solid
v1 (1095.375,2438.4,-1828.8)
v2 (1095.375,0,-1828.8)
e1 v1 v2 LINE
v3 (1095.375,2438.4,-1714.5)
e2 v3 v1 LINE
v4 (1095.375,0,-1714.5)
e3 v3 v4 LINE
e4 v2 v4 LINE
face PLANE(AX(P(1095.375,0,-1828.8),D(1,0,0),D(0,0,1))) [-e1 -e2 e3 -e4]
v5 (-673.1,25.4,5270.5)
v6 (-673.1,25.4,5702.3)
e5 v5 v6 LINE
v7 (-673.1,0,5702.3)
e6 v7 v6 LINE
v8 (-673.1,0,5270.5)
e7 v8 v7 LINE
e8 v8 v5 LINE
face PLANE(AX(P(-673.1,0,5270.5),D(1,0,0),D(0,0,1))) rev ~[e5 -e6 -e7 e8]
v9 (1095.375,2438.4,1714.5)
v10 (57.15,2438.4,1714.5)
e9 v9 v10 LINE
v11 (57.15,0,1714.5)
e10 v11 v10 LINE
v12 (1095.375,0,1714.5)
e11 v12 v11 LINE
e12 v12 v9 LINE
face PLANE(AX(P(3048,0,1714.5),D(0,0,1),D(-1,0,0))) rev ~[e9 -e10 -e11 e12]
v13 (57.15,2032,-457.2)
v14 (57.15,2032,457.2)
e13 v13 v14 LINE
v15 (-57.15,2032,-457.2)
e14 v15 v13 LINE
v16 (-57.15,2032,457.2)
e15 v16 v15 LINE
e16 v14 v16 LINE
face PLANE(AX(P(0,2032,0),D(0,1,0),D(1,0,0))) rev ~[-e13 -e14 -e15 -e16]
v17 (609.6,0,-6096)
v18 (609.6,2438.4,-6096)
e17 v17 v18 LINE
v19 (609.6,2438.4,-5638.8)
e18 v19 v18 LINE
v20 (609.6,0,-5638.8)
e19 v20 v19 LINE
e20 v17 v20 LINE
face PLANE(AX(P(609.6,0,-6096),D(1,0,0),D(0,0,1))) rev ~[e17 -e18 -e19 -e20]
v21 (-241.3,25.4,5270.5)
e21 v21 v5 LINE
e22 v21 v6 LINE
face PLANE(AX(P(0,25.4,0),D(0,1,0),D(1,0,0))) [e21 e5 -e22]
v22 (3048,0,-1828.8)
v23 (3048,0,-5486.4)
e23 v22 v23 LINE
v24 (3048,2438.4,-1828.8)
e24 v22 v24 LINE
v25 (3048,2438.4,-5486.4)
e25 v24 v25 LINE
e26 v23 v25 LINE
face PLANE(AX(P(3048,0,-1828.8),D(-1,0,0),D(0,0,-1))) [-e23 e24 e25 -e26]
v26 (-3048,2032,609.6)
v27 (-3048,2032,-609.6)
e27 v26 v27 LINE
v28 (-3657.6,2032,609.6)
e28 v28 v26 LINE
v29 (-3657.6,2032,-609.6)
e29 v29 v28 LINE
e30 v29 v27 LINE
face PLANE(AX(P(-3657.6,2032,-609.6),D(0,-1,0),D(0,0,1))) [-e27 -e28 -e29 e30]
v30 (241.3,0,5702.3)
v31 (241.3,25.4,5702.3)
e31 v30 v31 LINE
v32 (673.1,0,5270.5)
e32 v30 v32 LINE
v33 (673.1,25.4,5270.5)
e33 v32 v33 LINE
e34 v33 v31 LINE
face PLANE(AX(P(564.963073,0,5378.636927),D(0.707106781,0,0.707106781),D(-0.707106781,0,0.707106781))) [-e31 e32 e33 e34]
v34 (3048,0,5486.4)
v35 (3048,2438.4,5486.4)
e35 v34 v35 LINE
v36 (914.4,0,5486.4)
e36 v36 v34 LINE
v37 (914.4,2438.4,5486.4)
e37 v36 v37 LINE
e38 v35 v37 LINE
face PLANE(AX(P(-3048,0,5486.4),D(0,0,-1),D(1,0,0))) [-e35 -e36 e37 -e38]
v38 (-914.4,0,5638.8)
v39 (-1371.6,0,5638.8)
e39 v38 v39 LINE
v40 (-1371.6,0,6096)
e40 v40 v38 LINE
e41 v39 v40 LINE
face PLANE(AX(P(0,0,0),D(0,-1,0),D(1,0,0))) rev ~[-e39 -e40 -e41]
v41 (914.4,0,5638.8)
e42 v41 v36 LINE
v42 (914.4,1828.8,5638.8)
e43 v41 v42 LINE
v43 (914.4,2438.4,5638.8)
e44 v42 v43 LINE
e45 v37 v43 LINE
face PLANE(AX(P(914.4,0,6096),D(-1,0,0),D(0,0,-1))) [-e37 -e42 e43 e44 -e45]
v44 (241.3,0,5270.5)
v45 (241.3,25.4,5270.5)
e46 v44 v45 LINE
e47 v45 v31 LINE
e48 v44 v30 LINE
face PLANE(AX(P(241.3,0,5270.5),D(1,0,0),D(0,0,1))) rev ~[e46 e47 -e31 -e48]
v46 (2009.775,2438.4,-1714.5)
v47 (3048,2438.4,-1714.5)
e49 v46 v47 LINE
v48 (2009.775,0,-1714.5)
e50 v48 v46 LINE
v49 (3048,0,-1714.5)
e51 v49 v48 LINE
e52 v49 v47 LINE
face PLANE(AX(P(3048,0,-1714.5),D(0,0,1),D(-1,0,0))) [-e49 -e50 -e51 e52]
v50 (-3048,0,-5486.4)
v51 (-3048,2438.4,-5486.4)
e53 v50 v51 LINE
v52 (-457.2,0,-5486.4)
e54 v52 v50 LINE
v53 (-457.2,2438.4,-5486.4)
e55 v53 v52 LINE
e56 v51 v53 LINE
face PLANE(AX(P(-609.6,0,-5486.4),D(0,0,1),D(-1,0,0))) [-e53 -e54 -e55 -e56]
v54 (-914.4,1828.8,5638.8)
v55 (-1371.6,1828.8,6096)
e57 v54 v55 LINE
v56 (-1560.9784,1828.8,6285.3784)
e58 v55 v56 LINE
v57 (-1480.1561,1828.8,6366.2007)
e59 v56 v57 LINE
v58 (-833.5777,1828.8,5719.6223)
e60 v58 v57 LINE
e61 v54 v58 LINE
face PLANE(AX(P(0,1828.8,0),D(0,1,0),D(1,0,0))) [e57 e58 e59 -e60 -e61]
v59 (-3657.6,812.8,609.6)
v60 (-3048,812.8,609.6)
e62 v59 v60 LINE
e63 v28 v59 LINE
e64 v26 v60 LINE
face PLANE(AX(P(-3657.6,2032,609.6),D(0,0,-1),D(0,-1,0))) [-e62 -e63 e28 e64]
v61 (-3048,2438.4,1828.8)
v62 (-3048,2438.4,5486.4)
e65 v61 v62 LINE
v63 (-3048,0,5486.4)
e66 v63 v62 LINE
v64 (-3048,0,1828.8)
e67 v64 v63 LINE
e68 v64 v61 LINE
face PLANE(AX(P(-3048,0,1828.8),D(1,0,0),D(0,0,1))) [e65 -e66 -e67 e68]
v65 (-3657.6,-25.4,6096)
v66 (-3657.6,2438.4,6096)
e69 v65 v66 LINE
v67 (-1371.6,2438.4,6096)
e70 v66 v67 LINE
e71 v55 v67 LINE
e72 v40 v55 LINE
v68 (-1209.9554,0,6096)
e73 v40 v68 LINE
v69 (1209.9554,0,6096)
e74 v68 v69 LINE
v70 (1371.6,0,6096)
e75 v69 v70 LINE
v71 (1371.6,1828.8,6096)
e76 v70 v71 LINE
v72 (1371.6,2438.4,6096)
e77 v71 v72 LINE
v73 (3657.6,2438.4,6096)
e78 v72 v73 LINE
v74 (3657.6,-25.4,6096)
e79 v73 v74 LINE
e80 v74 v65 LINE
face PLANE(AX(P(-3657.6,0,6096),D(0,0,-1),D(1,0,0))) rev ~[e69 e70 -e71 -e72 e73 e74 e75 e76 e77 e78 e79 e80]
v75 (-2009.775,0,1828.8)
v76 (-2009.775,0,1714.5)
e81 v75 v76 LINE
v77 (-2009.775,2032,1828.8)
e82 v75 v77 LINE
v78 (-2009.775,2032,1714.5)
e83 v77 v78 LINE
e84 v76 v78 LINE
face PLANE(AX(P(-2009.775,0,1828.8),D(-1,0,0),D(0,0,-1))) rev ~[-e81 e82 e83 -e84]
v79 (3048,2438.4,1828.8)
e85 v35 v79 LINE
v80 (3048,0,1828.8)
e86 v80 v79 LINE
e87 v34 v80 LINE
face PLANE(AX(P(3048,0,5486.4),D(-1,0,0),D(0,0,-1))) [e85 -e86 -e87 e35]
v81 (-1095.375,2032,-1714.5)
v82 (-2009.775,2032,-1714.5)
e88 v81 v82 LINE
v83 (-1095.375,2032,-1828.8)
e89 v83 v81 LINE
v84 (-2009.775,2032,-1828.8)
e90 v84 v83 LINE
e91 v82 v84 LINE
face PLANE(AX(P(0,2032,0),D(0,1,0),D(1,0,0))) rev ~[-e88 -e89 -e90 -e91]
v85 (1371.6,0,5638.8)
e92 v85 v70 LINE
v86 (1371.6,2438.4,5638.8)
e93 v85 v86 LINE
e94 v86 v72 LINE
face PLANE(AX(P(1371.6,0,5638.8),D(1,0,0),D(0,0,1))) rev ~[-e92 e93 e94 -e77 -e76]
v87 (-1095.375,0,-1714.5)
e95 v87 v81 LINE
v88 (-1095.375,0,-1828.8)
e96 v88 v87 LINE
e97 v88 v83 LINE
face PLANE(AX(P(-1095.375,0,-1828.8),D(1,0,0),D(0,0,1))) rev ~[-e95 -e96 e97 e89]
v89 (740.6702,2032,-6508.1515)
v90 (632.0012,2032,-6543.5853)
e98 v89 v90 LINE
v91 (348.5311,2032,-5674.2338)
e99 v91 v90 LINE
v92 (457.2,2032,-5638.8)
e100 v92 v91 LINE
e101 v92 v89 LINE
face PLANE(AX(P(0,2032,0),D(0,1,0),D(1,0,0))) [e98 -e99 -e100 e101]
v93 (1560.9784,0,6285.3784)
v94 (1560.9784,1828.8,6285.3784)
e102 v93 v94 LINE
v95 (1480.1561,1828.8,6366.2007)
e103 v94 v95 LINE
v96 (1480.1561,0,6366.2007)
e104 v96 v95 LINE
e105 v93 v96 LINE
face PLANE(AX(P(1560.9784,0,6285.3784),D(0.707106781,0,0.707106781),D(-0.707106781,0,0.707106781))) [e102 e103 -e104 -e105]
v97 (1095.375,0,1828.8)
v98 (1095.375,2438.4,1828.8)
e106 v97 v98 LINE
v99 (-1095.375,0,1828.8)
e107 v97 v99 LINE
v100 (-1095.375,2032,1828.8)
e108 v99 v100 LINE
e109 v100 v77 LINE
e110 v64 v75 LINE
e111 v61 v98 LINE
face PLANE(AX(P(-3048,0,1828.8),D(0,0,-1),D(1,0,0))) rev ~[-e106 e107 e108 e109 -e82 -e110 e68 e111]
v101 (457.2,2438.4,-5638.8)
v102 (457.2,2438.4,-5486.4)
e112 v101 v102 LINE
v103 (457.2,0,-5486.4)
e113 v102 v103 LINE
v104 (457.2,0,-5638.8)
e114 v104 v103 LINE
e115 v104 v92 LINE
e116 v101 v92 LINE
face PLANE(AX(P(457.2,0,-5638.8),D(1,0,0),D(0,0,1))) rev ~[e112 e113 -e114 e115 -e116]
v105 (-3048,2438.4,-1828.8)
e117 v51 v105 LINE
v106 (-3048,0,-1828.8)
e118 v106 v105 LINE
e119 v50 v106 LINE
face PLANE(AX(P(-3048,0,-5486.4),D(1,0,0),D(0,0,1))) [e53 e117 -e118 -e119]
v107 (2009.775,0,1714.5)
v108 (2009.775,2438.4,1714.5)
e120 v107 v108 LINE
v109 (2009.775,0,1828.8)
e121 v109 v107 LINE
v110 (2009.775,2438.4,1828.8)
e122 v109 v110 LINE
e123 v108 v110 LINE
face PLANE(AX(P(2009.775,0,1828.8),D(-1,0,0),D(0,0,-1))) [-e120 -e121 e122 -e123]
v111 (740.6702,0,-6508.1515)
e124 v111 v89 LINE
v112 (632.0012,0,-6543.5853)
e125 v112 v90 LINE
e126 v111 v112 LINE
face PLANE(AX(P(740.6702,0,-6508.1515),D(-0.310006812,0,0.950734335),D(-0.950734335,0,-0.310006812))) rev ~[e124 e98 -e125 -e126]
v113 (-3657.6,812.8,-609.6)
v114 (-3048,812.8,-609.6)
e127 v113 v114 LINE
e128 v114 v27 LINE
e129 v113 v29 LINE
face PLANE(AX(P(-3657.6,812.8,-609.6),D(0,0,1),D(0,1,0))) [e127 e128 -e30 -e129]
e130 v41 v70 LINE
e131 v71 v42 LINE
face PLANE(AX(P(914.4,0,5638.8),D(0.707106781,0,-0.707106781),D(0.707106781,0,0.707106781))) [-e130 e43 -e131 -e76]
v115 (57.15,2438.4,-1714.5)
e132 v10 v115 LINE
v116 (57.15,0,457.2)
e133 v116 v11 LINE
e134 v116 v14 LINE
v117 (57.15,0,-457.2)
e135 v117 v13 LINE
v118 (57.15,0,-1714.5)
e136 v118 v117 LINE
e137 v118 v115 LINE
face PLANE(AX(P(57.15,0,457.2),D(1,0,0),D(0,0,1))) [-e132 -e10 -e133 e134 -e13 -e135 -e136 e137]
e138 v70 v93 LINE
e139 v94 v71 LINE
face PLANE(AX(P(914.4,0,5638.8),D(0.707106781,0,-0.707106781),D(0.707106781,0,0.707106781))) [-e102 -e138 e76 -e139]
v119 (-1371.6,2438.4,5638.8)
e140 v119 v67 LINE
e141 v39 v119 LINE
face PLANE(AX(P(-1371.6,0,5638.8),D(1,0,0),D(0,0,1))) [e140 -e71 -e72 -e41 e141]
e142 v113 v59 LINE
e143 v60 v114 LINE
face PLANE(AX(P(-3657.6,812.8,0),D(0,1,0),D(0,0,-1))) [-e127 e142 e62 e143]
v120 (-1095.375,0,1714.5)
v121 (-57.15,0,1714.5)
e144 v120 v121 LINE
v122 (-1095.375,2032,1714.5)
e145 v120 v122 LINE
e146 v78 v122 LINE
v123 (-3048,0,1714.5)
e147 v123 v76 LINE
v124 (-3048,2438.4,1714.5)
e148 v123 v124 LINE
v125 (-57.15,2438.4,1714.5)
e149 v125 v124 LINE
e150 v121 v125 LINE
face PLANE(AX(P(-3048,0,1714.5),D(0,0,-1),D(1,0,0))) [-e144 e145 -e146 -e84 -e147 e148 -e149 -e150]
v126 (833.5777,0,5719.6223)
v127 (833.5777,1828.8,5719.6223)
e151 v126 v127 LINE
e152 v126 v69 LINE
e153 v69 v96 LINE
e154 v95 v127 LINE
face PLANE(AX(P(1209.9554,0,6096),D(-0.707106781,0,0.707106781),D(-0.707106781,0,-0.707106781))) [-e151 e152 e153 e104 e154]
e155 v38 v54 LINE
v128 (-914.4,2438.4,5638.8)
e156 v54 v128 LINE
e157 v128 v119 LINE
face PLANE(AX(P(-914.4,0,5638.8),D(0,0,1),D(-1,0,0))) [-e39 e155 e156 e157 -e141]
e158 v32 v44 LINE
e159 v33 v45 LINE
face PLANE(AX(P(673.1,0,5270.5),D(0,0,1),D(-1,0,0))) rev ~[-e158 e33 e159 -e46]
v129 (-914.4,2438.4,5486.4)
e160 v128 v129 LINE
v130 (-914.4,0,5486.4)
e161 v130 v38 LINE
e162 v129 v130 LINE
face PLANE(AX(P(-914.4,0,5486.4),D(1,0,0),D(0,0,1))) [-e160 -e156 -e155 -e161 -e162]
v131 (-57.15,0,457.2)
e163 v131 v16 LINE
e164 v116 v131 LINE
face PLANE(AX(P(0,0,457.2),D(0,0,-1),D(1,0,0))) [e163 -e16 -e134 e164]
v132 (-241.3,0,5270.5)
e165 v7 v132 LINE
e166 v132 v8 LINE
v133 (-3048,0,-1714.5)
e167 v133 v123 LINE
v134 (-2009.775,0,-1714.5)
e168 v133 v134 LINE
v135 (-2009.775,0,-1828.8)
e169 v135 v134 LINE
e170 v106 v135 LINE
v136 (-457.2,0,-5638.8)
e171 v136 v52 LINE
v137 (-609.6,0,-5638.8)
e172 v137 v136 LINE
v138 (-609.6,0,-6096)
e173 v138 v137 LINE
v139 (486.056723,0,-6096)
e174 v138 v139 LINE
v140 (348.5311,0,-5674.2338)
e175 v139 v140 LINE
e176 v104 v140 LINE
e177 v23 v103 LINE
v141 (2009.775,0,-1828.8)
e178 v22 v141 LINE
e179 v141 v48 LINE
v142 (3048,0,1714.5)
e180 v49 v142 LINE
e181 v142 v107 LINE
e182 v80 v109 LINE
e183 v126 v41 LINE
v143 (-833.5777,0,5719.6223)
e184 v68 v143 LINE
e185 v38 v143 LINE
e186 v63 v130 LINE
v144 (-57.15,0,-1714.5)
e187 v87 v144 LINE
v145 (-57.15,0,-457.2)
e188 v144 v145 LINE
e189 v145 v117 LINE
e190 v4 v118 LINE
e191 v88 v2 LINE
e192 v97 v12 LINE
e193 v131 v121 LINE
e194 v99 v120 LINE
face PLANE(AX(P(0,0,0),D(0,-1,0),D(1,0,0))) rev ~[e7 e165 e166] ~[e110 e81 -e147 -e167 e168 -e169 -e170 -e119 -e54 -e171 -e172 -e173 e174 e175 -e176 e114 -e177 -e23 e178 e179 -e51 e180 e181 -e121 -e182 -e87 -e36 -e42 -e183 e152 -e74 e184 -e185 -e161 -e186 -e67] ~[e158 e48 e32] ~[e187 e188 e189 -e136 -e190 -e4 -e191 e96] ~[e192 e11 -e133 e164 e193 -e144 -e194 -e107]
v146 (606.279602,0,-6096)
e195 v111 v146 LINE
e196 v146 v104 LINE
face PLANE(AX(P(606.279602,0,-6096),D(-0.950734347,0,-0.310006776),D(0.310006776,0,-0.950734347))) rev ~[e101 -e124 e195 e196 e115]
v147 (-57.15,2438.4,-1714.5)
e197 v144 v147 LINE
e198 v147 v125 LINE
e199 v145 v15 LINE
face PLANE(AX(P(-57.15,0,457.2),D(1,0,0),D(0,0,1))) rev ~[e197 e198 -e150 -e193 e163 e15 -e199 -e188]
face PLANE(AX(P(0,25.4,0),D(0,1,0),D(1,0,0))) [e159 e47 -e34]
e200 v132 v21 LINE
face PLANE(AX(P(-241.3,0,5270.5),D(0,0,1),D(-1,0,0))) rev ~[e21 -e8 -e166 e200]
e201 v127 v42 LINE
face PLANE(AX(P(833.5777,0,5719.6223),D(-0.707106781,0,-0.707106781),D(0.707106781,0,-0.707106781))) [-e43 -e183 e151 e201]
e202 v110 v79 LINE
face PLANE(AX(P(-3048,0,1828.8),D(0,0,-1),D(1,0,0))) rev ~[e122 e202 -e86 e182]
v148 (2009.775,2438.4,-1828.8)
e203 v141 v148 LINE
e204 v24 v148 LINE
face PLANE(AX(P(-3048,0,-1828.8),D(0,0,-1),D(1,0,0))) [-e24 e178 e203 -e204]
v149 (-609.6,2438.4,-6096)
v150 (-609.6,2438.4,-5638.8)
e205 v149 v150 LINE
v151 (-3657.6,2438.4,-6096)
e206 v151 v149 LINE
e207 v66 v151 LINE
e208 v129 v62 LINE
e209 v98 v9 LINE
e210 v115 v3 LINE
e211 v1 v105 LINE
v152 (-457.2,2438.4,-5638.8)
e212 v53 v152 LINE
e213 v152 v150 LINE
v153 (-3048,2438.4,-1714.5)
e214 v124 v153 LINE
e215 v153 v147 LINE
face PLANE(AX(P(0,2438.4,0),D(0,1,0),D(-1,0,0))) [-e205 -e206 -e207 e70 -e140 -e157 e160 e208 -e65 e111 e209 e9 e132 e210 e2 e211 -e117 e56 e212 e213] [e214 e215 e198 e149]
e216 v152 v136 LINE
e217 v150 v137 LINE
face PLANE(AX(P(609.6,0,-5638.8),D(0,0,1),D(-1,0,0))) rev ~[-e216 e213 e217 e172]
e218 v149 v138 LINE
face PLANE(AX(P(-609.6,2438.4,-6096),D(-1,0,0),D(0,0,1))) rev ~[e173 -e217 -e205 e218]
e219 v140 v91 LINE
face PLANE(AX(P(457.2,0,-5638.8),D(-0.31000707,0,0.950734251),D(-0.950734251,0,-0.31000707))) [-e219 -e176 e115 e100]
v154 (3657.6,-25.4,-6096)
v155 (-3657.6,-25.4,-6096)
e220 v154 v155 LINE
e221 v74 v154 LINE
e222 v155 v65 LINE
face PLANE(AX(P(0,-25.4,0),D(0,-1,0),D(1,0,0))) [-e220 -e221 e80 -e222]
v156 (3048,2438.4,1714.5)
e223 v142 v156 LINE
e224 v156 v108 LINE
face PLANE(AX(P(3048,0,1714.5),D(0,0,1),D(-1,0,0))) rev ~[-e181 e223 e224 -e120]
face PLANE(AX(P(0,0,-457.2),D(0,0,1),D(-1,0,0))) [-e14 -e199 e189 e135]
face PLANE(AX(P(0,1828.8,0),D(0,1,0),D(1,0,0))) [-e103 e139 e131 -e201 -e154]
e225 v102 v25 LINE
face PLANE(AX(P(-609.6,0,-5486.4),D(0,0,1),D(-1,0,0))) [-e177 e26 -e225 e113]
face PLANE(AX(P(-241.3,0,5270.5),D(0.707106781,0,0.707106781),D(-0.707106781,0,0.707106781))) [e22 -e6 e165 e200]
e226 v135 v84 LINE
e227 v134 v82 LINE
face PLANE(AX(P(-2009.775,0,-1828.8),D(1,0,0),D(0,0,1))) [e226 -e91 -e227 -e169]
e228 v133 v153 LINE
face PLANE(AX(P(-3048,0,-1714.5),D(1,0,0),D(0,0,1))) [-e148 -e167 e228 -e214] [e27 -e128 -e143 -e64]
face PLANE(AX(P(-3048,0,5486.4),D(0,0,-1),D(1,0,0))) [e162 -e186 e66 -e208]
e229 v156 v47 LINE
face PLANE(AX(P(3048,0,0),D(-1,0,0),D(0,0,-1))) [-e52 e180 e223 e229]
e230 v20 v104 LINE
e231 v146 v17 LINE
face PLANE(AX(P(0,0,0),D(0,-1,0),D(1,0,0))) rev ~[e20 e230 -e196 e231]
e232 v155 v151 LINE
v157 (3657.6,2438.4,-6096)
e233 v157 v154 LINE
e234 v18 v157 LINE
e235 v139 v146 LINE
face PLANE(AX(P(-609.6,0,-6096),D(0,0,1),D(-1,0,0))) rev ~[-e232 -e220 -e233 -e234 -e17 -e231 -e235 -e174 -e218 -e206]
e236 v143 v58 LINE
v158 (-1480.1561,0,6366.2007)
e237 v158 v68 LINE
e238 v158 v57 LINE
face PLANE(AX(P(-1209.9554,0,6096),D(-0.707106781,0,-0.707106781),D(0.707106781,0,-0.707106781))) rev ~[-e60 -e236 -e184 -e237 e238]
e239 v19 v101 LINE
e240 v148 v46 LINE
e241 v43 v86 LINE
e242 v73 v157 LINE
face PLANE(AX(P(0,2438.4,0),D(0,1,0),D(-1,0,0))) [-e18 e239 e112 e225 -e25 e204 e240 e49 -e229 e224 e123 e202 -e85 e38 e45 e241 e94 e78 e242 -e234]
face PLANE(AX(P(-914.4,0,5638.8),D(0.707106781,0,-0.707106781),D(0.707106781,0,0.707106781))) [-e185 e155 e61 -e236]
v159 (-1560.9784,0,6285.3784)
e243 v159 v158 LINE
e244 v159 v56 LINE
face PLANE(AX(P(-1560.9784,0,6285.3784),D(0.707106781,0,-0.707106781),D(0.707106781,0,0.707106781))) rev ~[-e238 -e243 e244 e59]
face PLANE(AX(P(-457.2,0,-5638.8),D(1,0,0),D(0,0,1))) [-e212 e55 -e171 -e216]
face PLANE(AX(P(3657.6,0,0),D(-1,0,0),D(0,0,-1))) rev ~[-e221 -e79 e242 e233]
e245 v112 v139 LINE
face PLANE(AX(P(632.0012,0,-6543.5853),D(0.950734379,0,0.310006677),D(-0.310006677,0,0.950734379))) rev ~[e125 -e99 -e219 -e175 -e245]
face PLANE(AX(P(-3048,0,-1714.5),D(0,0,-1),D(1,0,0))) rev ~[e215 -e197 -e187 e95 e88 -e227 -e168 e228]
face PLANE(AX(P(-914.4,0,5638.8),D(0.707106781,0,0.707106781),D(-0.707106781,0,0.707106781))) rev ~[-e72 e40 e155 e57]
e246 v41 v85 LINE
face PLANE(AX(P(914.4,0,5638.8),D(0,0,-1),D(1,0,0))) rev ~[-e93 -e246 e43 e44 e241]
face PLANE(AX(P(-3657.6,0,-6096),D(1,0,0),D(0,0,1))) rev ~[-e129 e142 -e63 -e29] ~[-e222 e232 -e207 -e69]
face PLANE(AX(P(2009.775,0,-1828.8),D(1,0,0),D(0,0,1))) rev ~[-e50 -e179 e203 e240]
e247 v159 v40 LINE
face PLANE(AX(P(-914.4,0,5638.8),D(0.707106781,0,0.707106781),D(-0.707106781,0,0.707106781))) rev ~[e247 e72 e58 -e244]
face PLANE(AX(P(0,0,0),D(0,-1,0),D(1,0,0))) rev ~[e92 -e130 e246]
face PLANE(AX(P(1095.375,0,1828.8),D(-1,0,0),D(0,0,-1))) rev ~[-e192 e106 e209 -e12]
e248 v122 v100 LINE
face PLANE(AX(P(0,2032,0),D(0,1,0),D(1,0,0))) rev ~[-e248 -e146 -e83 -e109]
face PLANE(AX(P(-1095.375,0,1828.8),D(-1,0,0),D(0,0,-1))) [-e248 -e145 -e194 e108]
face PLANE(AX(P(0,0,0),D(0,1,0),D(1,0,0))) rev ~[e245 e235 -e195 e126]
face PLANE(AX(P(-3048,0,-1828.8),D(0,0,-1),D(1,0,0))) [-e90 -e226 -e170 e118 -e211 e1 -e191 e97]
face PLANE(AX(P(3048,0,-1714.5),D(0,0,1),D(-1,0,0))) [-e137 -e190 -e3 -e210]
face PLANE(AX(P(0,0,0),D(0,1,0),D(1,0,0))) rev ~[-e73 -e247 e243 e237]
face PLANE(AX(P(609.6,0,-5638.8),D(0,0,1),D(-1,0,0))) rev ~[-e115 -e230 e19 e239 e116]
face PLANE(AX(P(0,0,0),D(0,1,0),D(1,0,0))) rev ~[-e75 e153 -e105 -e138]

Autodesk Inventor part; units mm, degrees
ref_plane "YZ Plane" through (0, 0, 0) normal (1, 0, 0) x (0, 1, 0)
ref_plane "XZ Plane" through (0, 0, 0) normal (0, 1, 0) x (-1, 0, 0)
ref_plane "XY Plane" through (0, 0, 0) normal (0, 0, 1) x (1, 0, 0)
sketch "Sketch1" plane through (0, 0, 0) normal (0, 1, 0) x (-1, 0, 0)
  line L0 (3657.6, -6096) -> (3657.6, 6096)
  line L1 (-3657.6, 6096) -> (-3657.6, -6096)
  line L2 (-5120.64, 0) -> (5120.64, 0) projected
  line L3 (0, -23842.3169) -> (0, 22994.4703) projected
  line L4 (-3048, 1714.5) -> (-3048, -1714.5)
  line L5 (3048, -5486.4) -> (3048, -1828.8)
  line L6 (3048, -1714.5) -> (3048, 1714.5)
  line L7 (3048, 1828.8) -> (3048, 5486.4)
  line L8 (-3048, -1828.8) -> (-3048, -5486.4)
  line L9 (-3048, 5486.4) -> (-3048, 1828.8)
  line L10 (-3048, 1714.5) -> (-3048, -1714.5)
  line L11 (-2009.775, -1828.8) -> (-2009.775, -1714.5)
  line L12 (-1095.375, -1828.8) -> (-1095.375, -1714.5)
  line L13 (-3048, -1714.5) -> (-2009.775, -1714.5)
  line L14 (-1095.375, -1714.5) -> (-57.15, -1714.5)
  line L15 (-3048, -1828.8) -> (-2009.775, -1828.8)
  line L16 (2009.775, -1828.8) -> (2009.775, -1714.5)
  line L17 (1095.375, -1828.8) -> (1095.375, -1714.5)
  line L18 (3048, -1714.5) -> (2009.775, -1714.5)
  line L19 (1095.375, -1714.5) -> (57.15, -1714.5)
  line L20 (3048, -1828.8) -> (2009.775, -1828.8)
  line L21 (1095.375, -1828.8) -> (-1095.375, -1828.8)
  line L22 (-2009.775, -1828.8) -> (-3048, -1828.8)
  line L23 (-1095.375, -1828.8) -> (1095.375, -1828.8)
  line L24 (2009.775, -1828.8) -> (3048, -1828.8)
  line L25 (57.15, -1714.5) -> (1095.375, -1714.5)
  line L26 (2009.775, -1714.5) -> (3048, -1714.5)
  line L27 (-2009.775, 1828.8) -> (-2009.775, 1714.5)
  line L28 (-1095.375, 1828.8) -> (-1095.375, 1714.5)
  line L29 (-3048, 1714.5) -> (-2009.775, 1714.5)
  line L30 (-1095.375, 1714.5) -> (-57.15, 1714.5)
  line L31 (-3048, 1828.8) -> (-2009.775, 1828.8)
  line L32 (3048, 1714.5) -> (2009.775, 1714.5)
  line L33 (3048, 1828.8) -> (2009.775, 1828.8)
  line L34 (2009.775, 1828.8) -> (2009.775, 1714.5)
  line L35 (1095.375, 1828.8) -> (1095.375, 1714.5)
  line L36 (1095.375, 1714.5) -> (57.15, 1714.5)
  line L37 (1095.375, 1828.8) -> (-1095.375, 1828.8)
  line L38 (-2009.775, 1828.8) -> (-3048, 1828.8)
  line L39 (-1095.375, 1828.8) -> (1095.375, 1828.8)
  line L40 (2009.775, 1828.8) -> (3048, 1828.8)
  line L41 (57.15, 1714.5) -> (1095.375, 1714.5)
  line L42 (2009.775, 1714.5) -> (3048, 1714.5)
  line L43 (-57.15, -457.2) -> (57.15, -457.2)
  line L44 (57.15, 457.2) -> (-57.15, 457.2)
  line L45 (-609.6, -6096) -> (-609.6, -5486.4)
  line L46 (609.6, -6096) -> (609.6, -5486.4)
  line L47 (-3048, -5486.4) -> (-609.6, -5486.4)
  line L48 (609.6, -5486.4) -> (3048, -5486.4)
  line L49 (-3657.6, -6096) -> (-609.6, -6096)
  line L50 (609.6, -6096) -> (3657.6, -6096)
  line L51 (914.4, 5486.4) -> (914.4, 6096)
  line L52 (-914.4, 6096) -> (-914.4, 5486.4)
  line L53 (3048, 5486.4) -> (914.4, 5486.4)
  line L54 (-914.4, 5486.4) -> (-3048, 5486.4)
  line L55 (3657.6, 6096) -> (914.4, 6096)
  line L56 (-914.4, 6096) -> (-3657.6, 6096)
  line L57 (-57.15, -1714.5) -> (-57.15, -457.2)
  line L58 (-57.15, 457.2) -> (-57.15, 1714.5)
  line L59 (-57.15, 1714.5) -> (-57.15, 457.2)
  line L60 (-57.15, -457.2) -> (-57.15, -1714.5)
  line L61 (57.15, -1714.5) -> (57.15, -457.2)
  line L62 (57.15, 457.2) -> (57.15, 1714.5)
  line L63 (57.15, 1714.5) -> (57.15, 457.2)
  line L64 (57.15, -457.2) -> (57.15, -1714.5)
  line L65 (-3048, 5486.4) -> (-3048, 1828.8)
  line L66 (-3048, 1828.8) -> (-2009.775, 1828.8)
  line L67 (-2009.775, 1828.8) -> (-2009.775, 1714.5)
  line L68 (-2009.775, 1714.5) -> (-3048, 1714.5)
  line L69 (-3048, 1714.5) -> (-3048, -1714.5)
  line L70 (-3048, -1714.5) -> (-2009.775, -1714.5)
  line L71 (-2009.775, -1714.5) -> (-2009.775, -1828.8)
  line L72 (-2009.775, -1828.8) -> (-3048, -1828.8)
  line L73 (-3048, -1828.8) -> (-3048, -5486.4)
  line L74 (-3048, -5486.4) -> (-609.6, -5486.4)
  line L75 (609.6, -5486.4) -> (3048, -5486.4)
  line L76 (3048, -5486.4) -> (3048, -1828.8)
  line L77 (3048, -1828.8) -> (2009.775, -1828.8)
  line L78 (2009.775, -1828.8) -> (2009.775, -1714.5)
  line L79 (2009.775, -1714.5) -> (3048, -1714.5)
  line L80 (3048, 1714.5) -> (3048, -1714.5)
  line L81 (3048, 1714.5) -> (2009.775, 1714.5)
  line L82 (2009.775, 1714.5) -> (2009.775, 1828.8)
  line L83 (2009.775, 1828.8) -> (3048, 1828.8)
  line L84 (3048, 1828.8) -> (3048, 5486.4)
  point P0 (0, 0)
  point P1 (0, 23842.3169)
  point P2 (0, -22994.4703)
  dimension "d2" = 7315.2
  dimension "d10" = 609.6
  dimension "d13" = 1038.225
  dimension "d14" = 914.4
  dimension "d17" = 114.3
  dimension "d18" = 1038.225
  dimension "d19" = 1038.225
  dimension "d20" = 914.4
  dimension "d21" = 1219.2
  dimension "d23" = 609.6
  dimension "d24" = 4267.2
  dimension "d25" = 1828.8
  dimension "d26" = 12192
  dimension "d27" = 609.6
  dimension "d28" = 114.3
extrude "Extrusion1" add sketch "Sketch1" along normal blind 2438.4
sketch "Sketch2" plane through (-3657.6, 0, -6096) normal (-1, 0, 0) x (0, 0, 1)
  line L0 (0, 0) -> (12192, 0) projected
  line L1 (5486.4, 2032) -> (6705.6, 2032)
  line L2 (6705.6, 2032) -> (6705.6, 812.8)
  line L3 (6705.6, 812.8) -> (5486.4, 812.8)
  line L4 (5486.4, 812.8) -> (5486.4, 2032)
  line L5 (6096, 2926.08) -> (6096, -487.68) projected
  point P0 (6096, 0)
  dimension "d31" = 1219.2
  dimension "d33" = 1219.2
  dimension "d34" = 812.8
extrude "Extrusion2" cut sketch "Sketch2" against normal up to surface (609.6 mm away)
sketch "Sketch3" plane through (0, 2438.4, 0) normal (0, 1, 0) x (1, 0, 0)
  line L0 (57.15, 1714.5) -> (1095.375, 1714.5) projected
  line L1 (1095.375, 1714.5) -> (1095.375, 1828.8) projected
  line L2 (1095.375, 1828.8) -> (-1095.375, 1828.8) projected
  line L3 (-1095.375, 1828.8) -> (-1095.375, 1714.5) projected
  line L4 (-1095.375, 1714.5) -> (-57.15, 1714.5) projected
  line L5 (-57.15, 1714.5) -> (-57.15, 457.2) projected
  line L6 (-57.15, 457.2) -> (57.15, 457.2) projected
  line L7 (57.15, 457.2) -> (57.15, 1714.5) projected
  line L8 (-57.15, -1714.5) -> (-1095.375, -1714.5) projected
  line L9 (-1095.375, -1714.5) -> (-1095.375, -1828.8) projected
  line L10 (-1095.375, -1828.8) -> (1095.375, -1828.8) projected
  line L11 (1095.375, -1828.8) -> (1095.375, -1714.5) projected
  line L12 (1095.375, -1714.5) -> (57.15, -1714.5) projected
  line L13 (57.15, -1714.5) -> (57.15, -457.2) projected
  line L14 (57.15, -457.2) -> (-57.15, -457.2) projected
  line L15 (-57.15, -457.2) -> (-57.15, -1714.5) projected
  line L16 (3657.6, 6096) -> (609.6, 6096) projected
  line L17 (609.6, 6096) -> (609.6, 5486.4) projected
  line L18 (609.6, 5486.4) -> (3048, 5486.4) projected
  line L19 (3048, 5486.4) -> (3048, 1828.8) projected
  line L20 (3048, 1828.8) -> (2009.775, 1828.8) projected
  line L21 (2009.775, 1828.8) -> (2009.775, 1714.5) projected
  line L22 (2009.775, 1714.5) -> (3048, 1714.5) projected
  line L23 (3048, 1714.5) -> (3048, -1714.5) projected
  line L24 (3048, -1714.5) -> (2009.775, -1714.5) projected
  line L25 (2009.775, -1714.5) -> (2009.775, -1828.8) projected
  line L26 (2009.775, -1828.8) -> (3048, -1828.8) projected
  line L27 (3048, -1828.8) -> (3048, -5486.4) projected
  line L28 (3048, -5486.4) -> (914.4, -5486.4) projected
  line L29 (914.4, -5486.4) -> (914.4, -6096) projected
  line L30 (914.4, -6096) -> (3657.6, -6096) projected
  line L31 (3657.6, -6096) -> (3657.6, 6096) projected
  line L32 (-609.6, 6096) -> (609.6, 6096)
  line L33 (609.6, 6096) -> (609.6, 5486.4)
  line L34 (609.6, 5486.4) -> (-609.6, 5486.4)
  line L35 (-609.6, 5486.4) -> (-609.6, 6096)
  line L36 (-2009.775, 1828.8) -> (-1095.375, 1828.8)
  line L37 (-1095.375, 1828.8) -> (-1095.375, 1714.5)
  line L38 (-1095.375, 1714.5) -> (-2009.775, 1714.5)
  line L39 (-2009.775, 1714.5) -> (-2009.775, 1828.8)
  line L40 (1095.375, 1828.8) -> (2009.775, 1828.8)
  line L41 (2009.775, 1828.8) -> (2009.775, 1714.5)
  line L42 (2009.775, 1714.5) -> (1095.375, 1714.5)
  line L43 (1095.375, 1714.5) -> (1095.375, 1828.8)
  line L44 (-57.15, 457.2) -> (57.15, 457.2)
  line L45 (57.15, 457.2) -> (57.15, -457.2)
  line L46 (57.15, -457.2) -> (-57.15, -457.2)
  line L47 (-57.15, -457.2) -> (-57.15, 457.2)
  line L48 (1095.375, -1714.5) -> (2009.775, -1714.5)
  line L49 (2009.775, -1714.5) -> (2009.775, -1828.8)
  line L50 (2009.775, -1828.8) -> (1095.375, -1828.8)
  line L51 (1095.375, -1828.8) -> (1095.375, -1714.5)
  line L52 (-2009.775, -1714.5) -> (-1095.375, -1714.5)
  line L53 (-1095.375, -1714.5) -> (-1095.375, -1828.8)
  line L54 (-1095.375, -1828.8) -> (-2009.775, -1828.8)
  line L55 (-2009.775, -1828.8) -> (-2009.775, -1714.5)
  line L56 (-914.4, -5486.4) -> (914.4, -5486.4)
  line L57 (914.4, -5486.4) -> (914.4, -6096)
  line L58 (914.4, -6096) -> (-914.4, -6096)
  line L59 (-914.4, -6096) -> (-914.4, -5486.4)
  line L60 (1095.375, 1828.8) -> (2009.775, 1828.8)
  line L61 (2009.775, 1828.8) -> (2009.775, 1714.5)
  line L62 (2009.775, 1714.5) -> (1095.375, 1714.5)
  line L63 (1095.375, 1714.5) -> (1095.375, 1828.8)
  point P0 (0, 0)
extrude "Extrusion3" add sketch "Sketch3" against normal blind 406.4 contours L1 L40 L21 L42 | L45 L14 L47 L6 | L3 L38 L39 L36 | L48 L25 L50 L11 | L9 L54 L55 L52 | L34 L35 L32 L17 | L29 L58 L59 L56
sketch "Sketch5" plane through (0, 0, 0) normal (0, -1, 0) x (1, 0, 0)
  line L0 (3657.6, -6096) -> (609.6, -6096) projected
  line L1 (3657.6, 6096) -> (3657.6, -6096) projected
  line L2 (914.4, 6096) -> (3657.6, 6096) projected
  line L3 (914.4, 5486.4) -> (914.4, 6096) projected
  line L4 (3048, 5486.4) -> (914.4, 5486.4) projected
  line L5 (3048, 1828.8) -> (3048, 5486.4) projected
  line L6 (2009.775, 1828.8) -> (3048, 1828.8) projected
  line L7 (2009.775, 1714.5) -> (2009.775, 1828.8) projected
  line L8 (3048, 1714.5) -> (2009.775, 1714.5) projected
  line L9 (3048, -1714.5) -> (3048, 1714.5) projected
  line L10 (2009.775, -1714.5) -> (3048, -1714.5) projected
  line L11 (2009.775, -1828.8) -> (2009.775, -1714.5) projected
  line L12 (3048, -1828.8) -> (2009.775, -1828.8) projected
  line L13 (3048, -5486.4) -> (3048, -1828.8) projected
  line L14 (609.6, -5486.4) -> (3048, -5486.4) projected
  line L15 (609.6, -6096) -> (609.6, -5486.4) projected
  line L16 (-3657.6, 6096) -> (3657.6, 6096)
  line L17 (3657.6, 6096) -> (3657.6, -6096)
  line L18 (3657.6, -6096) -> (-3657.6, -6096)
  line L19 (-3657.6, -6096) -> (-3657.6, 6096)
  point P0 (0, 0)
extrude "Extrusion5" add sketch "Sketch5" along normal blind 25.4
sketch "Sketch6" plane through (0, 0, 0) normal (0, 1, 0) x (1, 0, 0)
  line L0 (-3048, 5486.4) -> (-609.6, 5486.4) projected
  line L1 (-3048, 1828.8) -> (-3048, 5486.4) projected
  line L2 (57.15, 1714.5) -> (1095.375, 1714.5) projected
  line L3 (2009.775, 1714.5) -> (3048, 1714.5) projected
  line L4 (3048, 1714.5) -> (3048, -1714.5) projected
  circle A0 centre (1549.4, 0) radius 152.4
  line L5 (-1095.375, -1828.8) -> (-1095.375, -1714.5) projected
  line L6 (3048, 1828.8) -> (2009.775, 1828.8) projected
  line L7 (2009.775, 1828.8) -> (2009.775, 1714.5) projected
  line L8 (1095.375, 1828.8) -> (-1095.375, 1828.8) projected
  line L9 (1095.375, 1714.5) -> (1095.375, 1828.8) projected
  circle A1 centre (-1549.4, -3657.6) radius 152.4
  circle A2 centre (1549.4, -3657.6) radius 152.4
  line L10 (3048, -1828.8) -> (3048, -5486.4) projected
  line L11 (3048, -5486.4) -> (914.4, -5486.4) projected
  line L12 (-914.4, -5486.4) -> (-3048, -5486.4) projected
  line L13 (-3048, -5486.4) -> (-3048, -1828.8) projected
  line L14 (-1095.375, -1828.8) -> (1095.375, -1828.8) projected
  line L15 (-3048, -1828.8) -> (-2009.775, -1828.8) projected
  line L16 (609.6, 6096) -> (609.6, 5486.4) projected
  line L17 (-609.6, 5486.4) -> (-609.6, 6096) projected
  line L18 (215.9, 5702.3) -> (-215.9, 5702.3)
  line L19 (-2009.775, -1714.5) -> (-3048, -1714.5) projected
  line L20 (914.4, -5486.4) -> (914.4, -6096) projected
  line L21 (-914.4, -6096) -> (-914.4, -5486.4) projected
  circle A3 centre (457.2, -5486.4) radius 152.4
  line L22 (673.1, -5270.5) -> (241.3, -5270.5)
  line L23 (241.3, -5270.5) -> (241.3, -5702.3)
  line L24 (673.1, -5270.5) -> (241.3, -5702.3)
  line L25 (-241.3, -5270.5) -> (-673.1, -5270.5)
  circle A4 centre (-457.2, -5486.4) radius 152.4
  line L26 (-241.3, -5270.5) -> (-673.1, -5702.3)
  line L27 (-673.1, -5270.5) -> (-673.1, -5702.3)
  line L28 (2009.775, 1714.5) -> (2009.775, 1828.8) projected
  line L29 (5120.64, 0) -> (-5120.64, 0) projected
  point P0 (0, 0)
  point P1 (457.2, -5486.4)
  point P2 (-457.2, -5486.4)
  dimension "d101" = 304.8
  dimension "d106" = 1498.6
  dimension "d120" = 1498.6
  dimension "d121" = 1828.8
  dimension "d154" = 431.8
  dimension "d156" = 304.8
  dimension "d157" = 431.8
  dimension "d158" = 431.8
  dimension "d159" = 215.9
  dimension "d160" = 304.8
  dimension "d161" = 431.8
  dimension "d162" = 431.8
  dimension "d163" = 215.9
  dimension "d164" = 457.2
  dimension "d165" = 457.2
extrude "Extrusion22" add sketch "Sketch6" along normal blind 25.4 contours L24 A3 | A3 L24 L23 L22 | L26 A4 L27 L25 | L26 A4 picked at (443.3203, -5425.7518) picked at (-471.0797, -5425.7518)
sketch "Sketch7" plane through (0, 2438.4, 0) normal (0, 1, 0) x (1, 0, 0)
  line L0 (-241.3, -5270.5) -> (-673.1, -5702.3) projected
  line L1 (-673.1, -5702.3) -> (-673.1, -5270.5) projected
  line L2 (-673.1, -5270.5) -> (-241.3, -5270.5) projected
  line L3 (673.1, -5270.5) -> (241.3, -5702.3) projected
  line L4 (241.3, -5702.3) -> (241.3, -5270.5) projected
  line L5 (241.3, -5270.5) -> (673.1, -5270.5) projected
  line L6 (-914.4, -6096) -> (-914.4, -5486.4) projected
  line L7 (914.4, -6096) -> (-914.4, -6096) projected
  line L8 (914.4, -5486.4) -> (914.4, -6096) projected
  line L9 (3048, -5486.4) -> (914.4, -5486.4) projected
  line L10 (3048, -1828.8) -> (3048, -5486.4) projected
  line L11 (2009.775, -1828.8) -> (3048, -1828.8) projected
  line L12 (2009.775, -1714.5) -> (2009.775, -1828.8) projected
  line L13 (3048, -1714.5) -> (2009.775, -1714.5) projected
  line L14 (3048, 1714.5) -> (3048, -1714.5) projected
  line L15 (2009.775, 1714.5) -> (3048, 1714.5) projected
  line L16 (2009.775, 1828.8) -> (2009.775, 1714.5) projected
  line L17 (3048, 1828.8) -> (2009.775, 1828.8) projected
  line L18 (3048, 5486.4) -> (3048, 1828.8) projected
  line L19 (609.6, 5486.4) -> (3048, 5486.4) projected
  line L20 (609.6, 6096) -> (609.6, 5486.4) projected
  line L21 (-609.6, 6096) -> (609.6, 6096) projected
  line L22 (-609.6, 5486.4) -> (-609.6, 6096) projected
  line L23 (-3048, 5486.4) -> (-609.6, 5486.4) projected
  line L24 (-3048, 1828.8) -> (-3048, 5486.4) projected
  line L25 (-2009.775, 1828.8) -> (-3048, 1828.8) projected
  line L26 (-2009.775, 1714.5) -> (-2009.775, 1828.8) projected
  line L27 (-3048, 1714.5) -> (-2009.775, 1714.5) projected
  line L28 (-3048, -1714.5) -> (-3048, 1714.5) projected
  line L29 (-2009.775, -1714.5) -> (-3048, -1714.5) projected
  line L30 (-2009.775, -1828.8) -> (-2009.775, -1714.5) projected
  line L31 (-3048, -1828.8) -> (-2009.775, -1828.8) projected
  line L32 (-3048, -5486.4) -> (-3048, -1828.8) projected
  line L33 (-914.4, -5486.4) -> (-3048, -5486.4) projected
  line L34 (1095.375, -1714.5) -> (57.15, -1714.5) projected
  line L35 (1095.375, -1828.8) -> (1095.375, -1714.5) projected
  line L36 (-1095.375, -1828.8) -> (1095.375, -1828.8) projected
  line L37 (-1095.375, -1714.5) -> (-1095.375, -1828.8) projected
  line L38 (-57.15, -1714.5) -> (-1095.375, -1714.5) projected
  line L39 (-57.15, -457.2) -> (-57.15, -1714.5) projected
  line L40 (57.15, -457.2) -> (-57.15, -457.2) projected
  line L41 (57.15, -1714.5) -> (57.15, -457.2) projected
  line L42 (-57.15, 457.2) -> (57.15, 457.2) projected
  line L43 (-57.15, 1714.5) -> (-57.15, 457.2) projected
  line L44 (-1095.375, 1714.5) -> (-57.15, 1714.5) projected
  line L45 (-1095.375, 1828.8) -> (-1095.375, 1714.5) projected
  line L46 (1095.375, 1828.8) -> (-1095.375, 1828.8) projected
  line L47 (1095.375, 1714.5) -> (1095.375, 1828.8) projected
  line L48 (57.15, 1714.5) -> (1095.375, 1714.5) projected
  line L49 (57.15, 457.2) -> (57.15, 1714.5) projected
  line L50 (1095.375, 1828.8) -> (2009.775, 1828.8)
  line L51 (2009.775, 1828.8) -> (2009.775, 1714.5)
  line L52 (2009.775, 1714.5) -> (1095.375, 1714.5)
  line L53 (1095.375, 1714.5) -> (1095.375, 1828.8)
  line L54 (1095.375, -1714.5) -> (2009.775, -1714.5)
  line L55 (2009.775, -1714.5) -> (2009.775, -1828.8)
  line L56 (2009.775, -1828.8) -> (1095.375, -1828.8)
  line L57 (1095.375, -1828.8) -> (1095.375, -1714.5)
  line L58 (-914.4, -5486.4) -> (914.4, -5486.4)
  line L59 (914.4, -5486.4) -> (914.4, -6096)
  line L60 (914.4, -6096) -> (-914.4, -6096)
  line L61 (-914.4, -6096) -> (-914.4, -5486.4)
  point P0 (0, 0)
extrude "Extrusion23" cut sketch "Sketch7" against normal up to surface (406.4 mm away) contours L58 L4 L3 L8 L7 L6 L1 L0 | L0 L1 L58 | L58 L3 L4 | L56 L35 L54 L12 | L52 L47 L50 L16
sketch "Sketch8" plane through (0, 0, 0) normal (0, 1, 0) x (1, 0, 0)
  line L0 (673.1, -5270.5) -> (241.3, -5702.3) projected
  line L1 (-914.4, -6096) -> (-914.4, -5486.4) projected
  line L2 (-914.4, -5486.4) -> (-3048, -5486.4) projected
  line L3 (-3657.6, -6096) -> (-3657.6, 6096) projected
  line L4 (-3657.6, 6096) -> (3657.6, 6096) projected
  line L5 (3657.6, 6096) -> (3657.6, -6096) projected
  line L6 (3657.6, -6096) -> (-3657.6, -6096) projected
  line L7 (-914.4, -5638.8) -> (-1371.6, -5638.8)
  line L8 (-1371.6, -5638.8) -> (-1371.6, -6096)
  line L9 (-1371.6, -6096) -> (-914.4, -6096)
  line L10 (-914.4, -6096) -> (-914.4, -5638.8)
  line L11 (0, 9125.5425) -> (0, -8948.1579) projected
  line L12 (-914.4, -5638.8) -> (-1560.9784, -6285.3784)
  line L13 (-1560.9784, -6285.3784) -> (-1480.1561, -6366.2007)
  line L14 (-1480.1561, -6366.2007) -> (-833.5777, -5719.6223)
  line L15 (-914.4, -5638.8) -> (-833.5777, -5719.6223)
  line L16 (914.4, -6096) -> (914.4, -5486.4)
  line L17 (-3657.6, -6096) -> (3657.6, -6096)
  line L18 (914.4, -5638.8) -> (1371.6, -5638.8)
  line L19 (1371.6, -5638.8) -> (1371.6, -6096)
  line L20 (914.4, -5638.8) -> (1560.9784, -6285.3784)
  line L21 (1560.9784, -6285.3784) -> (1480.1561, -6366.2007)
  line L22 (1480.1561, -6366.2007) -> (833.5777, -5719.6223)
  line L23 (833.5777, -5719.6223) -> (914.4, -5638.8)
  line L24 (914.4, -5638.8) -> (1371.6, -5638.8)
  line L25 (1371.6, -5638.8) -> (1371.6, -6096)
  line L26 (1371.6, -6096) -> (914.4, -6096)
  line L27 (914.4, -6096) -> (914.4, -5638.8)
  line L28 (914.4, -5638.8) -> (833.5777, -5719.6223)
  line L29 (833.5777, -5719.6223) -> (1480.1561, -6366.2007)
  line L30 (1480.1561, -6366.2007) -> (1560.9784, -6285.3784)
  line L31 (1560.9784, -6285.3784) -> (914.4, -5638.8)
  line L32 (-609.6, 5486.4) -> (-609.6, 6096) projected
  line L33 (-3048, 5486.4) -> (-609.6, 5486.4) projected
  line L34 (-609.6, 5638.8) -> (-457.2, 5638.8)
  line L35 (-457.2, 5638.8) -> (-457.2, 5486.4)
  line L36 (-457.2, 5486.4) -> (-609.6, 5486.4)
  line L37 (-609.6, 5486.4) -> (-609.6, 5638.8)
  line L38 (609.6, 5486.4) -> (609.6, 6096)
  line L39 (3048, 5486.4) -> (609.6, 5486.4)
  line L40 (609.6, 5638.8) -> (457.2, 5638.8)
  line L41 (457.2, 5638.8) -> (457.2, 5486.4)
  line L42 (457.2, 5486.4) -> (609.6, 5486.4)
  line L43 (609.6, 5486.4) -> (609.6, 5638.8)
  line L44 (457.2, 5638.8) -> (740.6702, 6508.1515)
  line L45 (740.6702, 6508.1515) -> (632.0012, 6543.5853)
  line L46 (632.0012, 6543.5853) -> (348.5311, 5674.2338)
  line L47 (457.2, 5638.8) -> (348.5311, 5674.2338)
  point P0 (564.9631, -5378.6369)
  point P1 (0, 0)
  dimension "d182" = 457.2
  dimension "d184" = 152.4
  dimension "d187" = 114.3
  dimension "d188" = 914.4
  dimension "d193" = 152.4
  dimension "d194" = 152.4
  dimension "d195" = 114.3
  dimension "d196" = 914.4
extrude "Extrusion24" cut sketch "Sketch8" along normal up to surface (2438.4 mm away) contours L6 L14 L1 | L14 L6 L12 L1 | L12 L8 L7 | L16 L22 L6 | L22 L16 L20 L6 | L20 L18 L19
extrude "Extrusion25" add sketch "Sketch8" along normal blind 1828.8 contours L14 L6 L12 L1 | L1 L15 L14 | L14 L13 L12 L6 | L22 L16 L20 L6 | L6 L20 L21 L22 | L22 L23 L16
extrude "Extrusion26" add sketch "Sketch8" along normal blind 2438.4 contours L34 L35 L36 L32 | L40 L38 L42 L41
sketch "Sketch10" plane through (0, 2438.4, 0) normal (0, 1, 0) x (1, 0, 0)
  line L0 (457.2, 5638.8) -> (457.2, 5486.4) projected
  line L1 (609.6, 5638.8) -> (609.6, 6096) projected
  line L2 (609.6, 5638.8) -> (457.2, 5638.8) projected
  line L3 (-609.6, 6096) -> (-609.6, 5638.8) projected
  line L4 (-457.2, 5638.8) -> (-609.6, 5638.8) projected
  line L5 (-457.2, 5486.4) -> (-457.2, 5638.8) projected
  line L6 (-609.6, 6096) -> (609.6, 6096)
  line L7 (609.6, 6096) -> (609.6, 5638.8)
  line L8 (609.6, 5638.8) -> (-609.6, 5638.8)
  line L9 (-609.6, 5638.8) -> (-609.6, 6096)
  point P0 (0, 0)
extrude "Extrusion29" cut sketch "Sketch10" against normal blind 2032
extrude "Extrusion30" add sketch "Sketch8" along normal blind 2032 contours L46 L45 L44 L4 | L4 L44 L47 L46
sketch "Sketch11" plane through (0, 2438.4, 0) normal (0, 1, 0) x (1, 0, 0)
  line L0 (-457.2, 5638.8) -> (457.2, 5638.8) projected
  line L1 (457.2, 5638.8) -> (457.2, 5486.4) projected
  line L2 (457.2, 5486.4) -> (-457.2, 5486.4) projected
  line L3 (-457.2, 5486.4) -> (-457.2, 5638.8) projected
  point P0 (0, 0)
extrude "Extrusion31" cut sketch "Sketch11" against normal blind 406.4
sketch "Sketch9" plane through (0, 2438.4, 0) normal (0, 1, 0) x (1, 0, 0)
  line L0 (486.0567, 6096) -> (348.5311, 5674.2338) projected
  line L1 (348.5311, 5674.2338) -> (457.2, 5638.8) projected
  line L2 (457.2, 5638.8) -> (457.2, 5486.4) projected
  line L3 (457.2, 5486.4) -> (-457.2, 5486.4) projected
  line L4 (-457.2, 5486.4) -> (-457.2, 5638.8) projected
  line L5 (-457.2, 5638.8) -> (-609.6, 5638.8) projected
  line L6 (-609.6, 6096) -> (-609.6, 5638.8) projected
  line L7 (-609.6, 6096) -> (486.0567, 6096) projected
  line L8 (457.2, 5638.8) -> (606.2796, 6096) projected
  line L9 (606.2796, 6096) -> (609.6, 6096) projected
  line L10 (609.6, 5638.8) -> (609.6, 6096) projected
  line L11 (609.6, 5638.8) -> (457.2, 5638.8) projected
  line L12 (-609.6, 6096) -> (609.6, 6096)
  line L13 (609.6, 6096) -> (609.6, 5638.8)
  line L14 (609.6, 5638.8) -> (-609.6, 5638.8)
  line L15 (-609.6, 5638.8) -> (-609.6, 6096)
  line L16 (-457.2, 5638.8) -> (457.2, 5638.8)
  line L17 (457.2, 5638.8) -> (457.2, 5486.4)
  line L18 (457.2, 5486.4) -> (-457.2, 5486.4)
  line L19 (-457.2, 5486.4) -> (-457.2, 5638.8)
  point P0 (0, 0)
properties part number "East_Structure_Hose_Test"
